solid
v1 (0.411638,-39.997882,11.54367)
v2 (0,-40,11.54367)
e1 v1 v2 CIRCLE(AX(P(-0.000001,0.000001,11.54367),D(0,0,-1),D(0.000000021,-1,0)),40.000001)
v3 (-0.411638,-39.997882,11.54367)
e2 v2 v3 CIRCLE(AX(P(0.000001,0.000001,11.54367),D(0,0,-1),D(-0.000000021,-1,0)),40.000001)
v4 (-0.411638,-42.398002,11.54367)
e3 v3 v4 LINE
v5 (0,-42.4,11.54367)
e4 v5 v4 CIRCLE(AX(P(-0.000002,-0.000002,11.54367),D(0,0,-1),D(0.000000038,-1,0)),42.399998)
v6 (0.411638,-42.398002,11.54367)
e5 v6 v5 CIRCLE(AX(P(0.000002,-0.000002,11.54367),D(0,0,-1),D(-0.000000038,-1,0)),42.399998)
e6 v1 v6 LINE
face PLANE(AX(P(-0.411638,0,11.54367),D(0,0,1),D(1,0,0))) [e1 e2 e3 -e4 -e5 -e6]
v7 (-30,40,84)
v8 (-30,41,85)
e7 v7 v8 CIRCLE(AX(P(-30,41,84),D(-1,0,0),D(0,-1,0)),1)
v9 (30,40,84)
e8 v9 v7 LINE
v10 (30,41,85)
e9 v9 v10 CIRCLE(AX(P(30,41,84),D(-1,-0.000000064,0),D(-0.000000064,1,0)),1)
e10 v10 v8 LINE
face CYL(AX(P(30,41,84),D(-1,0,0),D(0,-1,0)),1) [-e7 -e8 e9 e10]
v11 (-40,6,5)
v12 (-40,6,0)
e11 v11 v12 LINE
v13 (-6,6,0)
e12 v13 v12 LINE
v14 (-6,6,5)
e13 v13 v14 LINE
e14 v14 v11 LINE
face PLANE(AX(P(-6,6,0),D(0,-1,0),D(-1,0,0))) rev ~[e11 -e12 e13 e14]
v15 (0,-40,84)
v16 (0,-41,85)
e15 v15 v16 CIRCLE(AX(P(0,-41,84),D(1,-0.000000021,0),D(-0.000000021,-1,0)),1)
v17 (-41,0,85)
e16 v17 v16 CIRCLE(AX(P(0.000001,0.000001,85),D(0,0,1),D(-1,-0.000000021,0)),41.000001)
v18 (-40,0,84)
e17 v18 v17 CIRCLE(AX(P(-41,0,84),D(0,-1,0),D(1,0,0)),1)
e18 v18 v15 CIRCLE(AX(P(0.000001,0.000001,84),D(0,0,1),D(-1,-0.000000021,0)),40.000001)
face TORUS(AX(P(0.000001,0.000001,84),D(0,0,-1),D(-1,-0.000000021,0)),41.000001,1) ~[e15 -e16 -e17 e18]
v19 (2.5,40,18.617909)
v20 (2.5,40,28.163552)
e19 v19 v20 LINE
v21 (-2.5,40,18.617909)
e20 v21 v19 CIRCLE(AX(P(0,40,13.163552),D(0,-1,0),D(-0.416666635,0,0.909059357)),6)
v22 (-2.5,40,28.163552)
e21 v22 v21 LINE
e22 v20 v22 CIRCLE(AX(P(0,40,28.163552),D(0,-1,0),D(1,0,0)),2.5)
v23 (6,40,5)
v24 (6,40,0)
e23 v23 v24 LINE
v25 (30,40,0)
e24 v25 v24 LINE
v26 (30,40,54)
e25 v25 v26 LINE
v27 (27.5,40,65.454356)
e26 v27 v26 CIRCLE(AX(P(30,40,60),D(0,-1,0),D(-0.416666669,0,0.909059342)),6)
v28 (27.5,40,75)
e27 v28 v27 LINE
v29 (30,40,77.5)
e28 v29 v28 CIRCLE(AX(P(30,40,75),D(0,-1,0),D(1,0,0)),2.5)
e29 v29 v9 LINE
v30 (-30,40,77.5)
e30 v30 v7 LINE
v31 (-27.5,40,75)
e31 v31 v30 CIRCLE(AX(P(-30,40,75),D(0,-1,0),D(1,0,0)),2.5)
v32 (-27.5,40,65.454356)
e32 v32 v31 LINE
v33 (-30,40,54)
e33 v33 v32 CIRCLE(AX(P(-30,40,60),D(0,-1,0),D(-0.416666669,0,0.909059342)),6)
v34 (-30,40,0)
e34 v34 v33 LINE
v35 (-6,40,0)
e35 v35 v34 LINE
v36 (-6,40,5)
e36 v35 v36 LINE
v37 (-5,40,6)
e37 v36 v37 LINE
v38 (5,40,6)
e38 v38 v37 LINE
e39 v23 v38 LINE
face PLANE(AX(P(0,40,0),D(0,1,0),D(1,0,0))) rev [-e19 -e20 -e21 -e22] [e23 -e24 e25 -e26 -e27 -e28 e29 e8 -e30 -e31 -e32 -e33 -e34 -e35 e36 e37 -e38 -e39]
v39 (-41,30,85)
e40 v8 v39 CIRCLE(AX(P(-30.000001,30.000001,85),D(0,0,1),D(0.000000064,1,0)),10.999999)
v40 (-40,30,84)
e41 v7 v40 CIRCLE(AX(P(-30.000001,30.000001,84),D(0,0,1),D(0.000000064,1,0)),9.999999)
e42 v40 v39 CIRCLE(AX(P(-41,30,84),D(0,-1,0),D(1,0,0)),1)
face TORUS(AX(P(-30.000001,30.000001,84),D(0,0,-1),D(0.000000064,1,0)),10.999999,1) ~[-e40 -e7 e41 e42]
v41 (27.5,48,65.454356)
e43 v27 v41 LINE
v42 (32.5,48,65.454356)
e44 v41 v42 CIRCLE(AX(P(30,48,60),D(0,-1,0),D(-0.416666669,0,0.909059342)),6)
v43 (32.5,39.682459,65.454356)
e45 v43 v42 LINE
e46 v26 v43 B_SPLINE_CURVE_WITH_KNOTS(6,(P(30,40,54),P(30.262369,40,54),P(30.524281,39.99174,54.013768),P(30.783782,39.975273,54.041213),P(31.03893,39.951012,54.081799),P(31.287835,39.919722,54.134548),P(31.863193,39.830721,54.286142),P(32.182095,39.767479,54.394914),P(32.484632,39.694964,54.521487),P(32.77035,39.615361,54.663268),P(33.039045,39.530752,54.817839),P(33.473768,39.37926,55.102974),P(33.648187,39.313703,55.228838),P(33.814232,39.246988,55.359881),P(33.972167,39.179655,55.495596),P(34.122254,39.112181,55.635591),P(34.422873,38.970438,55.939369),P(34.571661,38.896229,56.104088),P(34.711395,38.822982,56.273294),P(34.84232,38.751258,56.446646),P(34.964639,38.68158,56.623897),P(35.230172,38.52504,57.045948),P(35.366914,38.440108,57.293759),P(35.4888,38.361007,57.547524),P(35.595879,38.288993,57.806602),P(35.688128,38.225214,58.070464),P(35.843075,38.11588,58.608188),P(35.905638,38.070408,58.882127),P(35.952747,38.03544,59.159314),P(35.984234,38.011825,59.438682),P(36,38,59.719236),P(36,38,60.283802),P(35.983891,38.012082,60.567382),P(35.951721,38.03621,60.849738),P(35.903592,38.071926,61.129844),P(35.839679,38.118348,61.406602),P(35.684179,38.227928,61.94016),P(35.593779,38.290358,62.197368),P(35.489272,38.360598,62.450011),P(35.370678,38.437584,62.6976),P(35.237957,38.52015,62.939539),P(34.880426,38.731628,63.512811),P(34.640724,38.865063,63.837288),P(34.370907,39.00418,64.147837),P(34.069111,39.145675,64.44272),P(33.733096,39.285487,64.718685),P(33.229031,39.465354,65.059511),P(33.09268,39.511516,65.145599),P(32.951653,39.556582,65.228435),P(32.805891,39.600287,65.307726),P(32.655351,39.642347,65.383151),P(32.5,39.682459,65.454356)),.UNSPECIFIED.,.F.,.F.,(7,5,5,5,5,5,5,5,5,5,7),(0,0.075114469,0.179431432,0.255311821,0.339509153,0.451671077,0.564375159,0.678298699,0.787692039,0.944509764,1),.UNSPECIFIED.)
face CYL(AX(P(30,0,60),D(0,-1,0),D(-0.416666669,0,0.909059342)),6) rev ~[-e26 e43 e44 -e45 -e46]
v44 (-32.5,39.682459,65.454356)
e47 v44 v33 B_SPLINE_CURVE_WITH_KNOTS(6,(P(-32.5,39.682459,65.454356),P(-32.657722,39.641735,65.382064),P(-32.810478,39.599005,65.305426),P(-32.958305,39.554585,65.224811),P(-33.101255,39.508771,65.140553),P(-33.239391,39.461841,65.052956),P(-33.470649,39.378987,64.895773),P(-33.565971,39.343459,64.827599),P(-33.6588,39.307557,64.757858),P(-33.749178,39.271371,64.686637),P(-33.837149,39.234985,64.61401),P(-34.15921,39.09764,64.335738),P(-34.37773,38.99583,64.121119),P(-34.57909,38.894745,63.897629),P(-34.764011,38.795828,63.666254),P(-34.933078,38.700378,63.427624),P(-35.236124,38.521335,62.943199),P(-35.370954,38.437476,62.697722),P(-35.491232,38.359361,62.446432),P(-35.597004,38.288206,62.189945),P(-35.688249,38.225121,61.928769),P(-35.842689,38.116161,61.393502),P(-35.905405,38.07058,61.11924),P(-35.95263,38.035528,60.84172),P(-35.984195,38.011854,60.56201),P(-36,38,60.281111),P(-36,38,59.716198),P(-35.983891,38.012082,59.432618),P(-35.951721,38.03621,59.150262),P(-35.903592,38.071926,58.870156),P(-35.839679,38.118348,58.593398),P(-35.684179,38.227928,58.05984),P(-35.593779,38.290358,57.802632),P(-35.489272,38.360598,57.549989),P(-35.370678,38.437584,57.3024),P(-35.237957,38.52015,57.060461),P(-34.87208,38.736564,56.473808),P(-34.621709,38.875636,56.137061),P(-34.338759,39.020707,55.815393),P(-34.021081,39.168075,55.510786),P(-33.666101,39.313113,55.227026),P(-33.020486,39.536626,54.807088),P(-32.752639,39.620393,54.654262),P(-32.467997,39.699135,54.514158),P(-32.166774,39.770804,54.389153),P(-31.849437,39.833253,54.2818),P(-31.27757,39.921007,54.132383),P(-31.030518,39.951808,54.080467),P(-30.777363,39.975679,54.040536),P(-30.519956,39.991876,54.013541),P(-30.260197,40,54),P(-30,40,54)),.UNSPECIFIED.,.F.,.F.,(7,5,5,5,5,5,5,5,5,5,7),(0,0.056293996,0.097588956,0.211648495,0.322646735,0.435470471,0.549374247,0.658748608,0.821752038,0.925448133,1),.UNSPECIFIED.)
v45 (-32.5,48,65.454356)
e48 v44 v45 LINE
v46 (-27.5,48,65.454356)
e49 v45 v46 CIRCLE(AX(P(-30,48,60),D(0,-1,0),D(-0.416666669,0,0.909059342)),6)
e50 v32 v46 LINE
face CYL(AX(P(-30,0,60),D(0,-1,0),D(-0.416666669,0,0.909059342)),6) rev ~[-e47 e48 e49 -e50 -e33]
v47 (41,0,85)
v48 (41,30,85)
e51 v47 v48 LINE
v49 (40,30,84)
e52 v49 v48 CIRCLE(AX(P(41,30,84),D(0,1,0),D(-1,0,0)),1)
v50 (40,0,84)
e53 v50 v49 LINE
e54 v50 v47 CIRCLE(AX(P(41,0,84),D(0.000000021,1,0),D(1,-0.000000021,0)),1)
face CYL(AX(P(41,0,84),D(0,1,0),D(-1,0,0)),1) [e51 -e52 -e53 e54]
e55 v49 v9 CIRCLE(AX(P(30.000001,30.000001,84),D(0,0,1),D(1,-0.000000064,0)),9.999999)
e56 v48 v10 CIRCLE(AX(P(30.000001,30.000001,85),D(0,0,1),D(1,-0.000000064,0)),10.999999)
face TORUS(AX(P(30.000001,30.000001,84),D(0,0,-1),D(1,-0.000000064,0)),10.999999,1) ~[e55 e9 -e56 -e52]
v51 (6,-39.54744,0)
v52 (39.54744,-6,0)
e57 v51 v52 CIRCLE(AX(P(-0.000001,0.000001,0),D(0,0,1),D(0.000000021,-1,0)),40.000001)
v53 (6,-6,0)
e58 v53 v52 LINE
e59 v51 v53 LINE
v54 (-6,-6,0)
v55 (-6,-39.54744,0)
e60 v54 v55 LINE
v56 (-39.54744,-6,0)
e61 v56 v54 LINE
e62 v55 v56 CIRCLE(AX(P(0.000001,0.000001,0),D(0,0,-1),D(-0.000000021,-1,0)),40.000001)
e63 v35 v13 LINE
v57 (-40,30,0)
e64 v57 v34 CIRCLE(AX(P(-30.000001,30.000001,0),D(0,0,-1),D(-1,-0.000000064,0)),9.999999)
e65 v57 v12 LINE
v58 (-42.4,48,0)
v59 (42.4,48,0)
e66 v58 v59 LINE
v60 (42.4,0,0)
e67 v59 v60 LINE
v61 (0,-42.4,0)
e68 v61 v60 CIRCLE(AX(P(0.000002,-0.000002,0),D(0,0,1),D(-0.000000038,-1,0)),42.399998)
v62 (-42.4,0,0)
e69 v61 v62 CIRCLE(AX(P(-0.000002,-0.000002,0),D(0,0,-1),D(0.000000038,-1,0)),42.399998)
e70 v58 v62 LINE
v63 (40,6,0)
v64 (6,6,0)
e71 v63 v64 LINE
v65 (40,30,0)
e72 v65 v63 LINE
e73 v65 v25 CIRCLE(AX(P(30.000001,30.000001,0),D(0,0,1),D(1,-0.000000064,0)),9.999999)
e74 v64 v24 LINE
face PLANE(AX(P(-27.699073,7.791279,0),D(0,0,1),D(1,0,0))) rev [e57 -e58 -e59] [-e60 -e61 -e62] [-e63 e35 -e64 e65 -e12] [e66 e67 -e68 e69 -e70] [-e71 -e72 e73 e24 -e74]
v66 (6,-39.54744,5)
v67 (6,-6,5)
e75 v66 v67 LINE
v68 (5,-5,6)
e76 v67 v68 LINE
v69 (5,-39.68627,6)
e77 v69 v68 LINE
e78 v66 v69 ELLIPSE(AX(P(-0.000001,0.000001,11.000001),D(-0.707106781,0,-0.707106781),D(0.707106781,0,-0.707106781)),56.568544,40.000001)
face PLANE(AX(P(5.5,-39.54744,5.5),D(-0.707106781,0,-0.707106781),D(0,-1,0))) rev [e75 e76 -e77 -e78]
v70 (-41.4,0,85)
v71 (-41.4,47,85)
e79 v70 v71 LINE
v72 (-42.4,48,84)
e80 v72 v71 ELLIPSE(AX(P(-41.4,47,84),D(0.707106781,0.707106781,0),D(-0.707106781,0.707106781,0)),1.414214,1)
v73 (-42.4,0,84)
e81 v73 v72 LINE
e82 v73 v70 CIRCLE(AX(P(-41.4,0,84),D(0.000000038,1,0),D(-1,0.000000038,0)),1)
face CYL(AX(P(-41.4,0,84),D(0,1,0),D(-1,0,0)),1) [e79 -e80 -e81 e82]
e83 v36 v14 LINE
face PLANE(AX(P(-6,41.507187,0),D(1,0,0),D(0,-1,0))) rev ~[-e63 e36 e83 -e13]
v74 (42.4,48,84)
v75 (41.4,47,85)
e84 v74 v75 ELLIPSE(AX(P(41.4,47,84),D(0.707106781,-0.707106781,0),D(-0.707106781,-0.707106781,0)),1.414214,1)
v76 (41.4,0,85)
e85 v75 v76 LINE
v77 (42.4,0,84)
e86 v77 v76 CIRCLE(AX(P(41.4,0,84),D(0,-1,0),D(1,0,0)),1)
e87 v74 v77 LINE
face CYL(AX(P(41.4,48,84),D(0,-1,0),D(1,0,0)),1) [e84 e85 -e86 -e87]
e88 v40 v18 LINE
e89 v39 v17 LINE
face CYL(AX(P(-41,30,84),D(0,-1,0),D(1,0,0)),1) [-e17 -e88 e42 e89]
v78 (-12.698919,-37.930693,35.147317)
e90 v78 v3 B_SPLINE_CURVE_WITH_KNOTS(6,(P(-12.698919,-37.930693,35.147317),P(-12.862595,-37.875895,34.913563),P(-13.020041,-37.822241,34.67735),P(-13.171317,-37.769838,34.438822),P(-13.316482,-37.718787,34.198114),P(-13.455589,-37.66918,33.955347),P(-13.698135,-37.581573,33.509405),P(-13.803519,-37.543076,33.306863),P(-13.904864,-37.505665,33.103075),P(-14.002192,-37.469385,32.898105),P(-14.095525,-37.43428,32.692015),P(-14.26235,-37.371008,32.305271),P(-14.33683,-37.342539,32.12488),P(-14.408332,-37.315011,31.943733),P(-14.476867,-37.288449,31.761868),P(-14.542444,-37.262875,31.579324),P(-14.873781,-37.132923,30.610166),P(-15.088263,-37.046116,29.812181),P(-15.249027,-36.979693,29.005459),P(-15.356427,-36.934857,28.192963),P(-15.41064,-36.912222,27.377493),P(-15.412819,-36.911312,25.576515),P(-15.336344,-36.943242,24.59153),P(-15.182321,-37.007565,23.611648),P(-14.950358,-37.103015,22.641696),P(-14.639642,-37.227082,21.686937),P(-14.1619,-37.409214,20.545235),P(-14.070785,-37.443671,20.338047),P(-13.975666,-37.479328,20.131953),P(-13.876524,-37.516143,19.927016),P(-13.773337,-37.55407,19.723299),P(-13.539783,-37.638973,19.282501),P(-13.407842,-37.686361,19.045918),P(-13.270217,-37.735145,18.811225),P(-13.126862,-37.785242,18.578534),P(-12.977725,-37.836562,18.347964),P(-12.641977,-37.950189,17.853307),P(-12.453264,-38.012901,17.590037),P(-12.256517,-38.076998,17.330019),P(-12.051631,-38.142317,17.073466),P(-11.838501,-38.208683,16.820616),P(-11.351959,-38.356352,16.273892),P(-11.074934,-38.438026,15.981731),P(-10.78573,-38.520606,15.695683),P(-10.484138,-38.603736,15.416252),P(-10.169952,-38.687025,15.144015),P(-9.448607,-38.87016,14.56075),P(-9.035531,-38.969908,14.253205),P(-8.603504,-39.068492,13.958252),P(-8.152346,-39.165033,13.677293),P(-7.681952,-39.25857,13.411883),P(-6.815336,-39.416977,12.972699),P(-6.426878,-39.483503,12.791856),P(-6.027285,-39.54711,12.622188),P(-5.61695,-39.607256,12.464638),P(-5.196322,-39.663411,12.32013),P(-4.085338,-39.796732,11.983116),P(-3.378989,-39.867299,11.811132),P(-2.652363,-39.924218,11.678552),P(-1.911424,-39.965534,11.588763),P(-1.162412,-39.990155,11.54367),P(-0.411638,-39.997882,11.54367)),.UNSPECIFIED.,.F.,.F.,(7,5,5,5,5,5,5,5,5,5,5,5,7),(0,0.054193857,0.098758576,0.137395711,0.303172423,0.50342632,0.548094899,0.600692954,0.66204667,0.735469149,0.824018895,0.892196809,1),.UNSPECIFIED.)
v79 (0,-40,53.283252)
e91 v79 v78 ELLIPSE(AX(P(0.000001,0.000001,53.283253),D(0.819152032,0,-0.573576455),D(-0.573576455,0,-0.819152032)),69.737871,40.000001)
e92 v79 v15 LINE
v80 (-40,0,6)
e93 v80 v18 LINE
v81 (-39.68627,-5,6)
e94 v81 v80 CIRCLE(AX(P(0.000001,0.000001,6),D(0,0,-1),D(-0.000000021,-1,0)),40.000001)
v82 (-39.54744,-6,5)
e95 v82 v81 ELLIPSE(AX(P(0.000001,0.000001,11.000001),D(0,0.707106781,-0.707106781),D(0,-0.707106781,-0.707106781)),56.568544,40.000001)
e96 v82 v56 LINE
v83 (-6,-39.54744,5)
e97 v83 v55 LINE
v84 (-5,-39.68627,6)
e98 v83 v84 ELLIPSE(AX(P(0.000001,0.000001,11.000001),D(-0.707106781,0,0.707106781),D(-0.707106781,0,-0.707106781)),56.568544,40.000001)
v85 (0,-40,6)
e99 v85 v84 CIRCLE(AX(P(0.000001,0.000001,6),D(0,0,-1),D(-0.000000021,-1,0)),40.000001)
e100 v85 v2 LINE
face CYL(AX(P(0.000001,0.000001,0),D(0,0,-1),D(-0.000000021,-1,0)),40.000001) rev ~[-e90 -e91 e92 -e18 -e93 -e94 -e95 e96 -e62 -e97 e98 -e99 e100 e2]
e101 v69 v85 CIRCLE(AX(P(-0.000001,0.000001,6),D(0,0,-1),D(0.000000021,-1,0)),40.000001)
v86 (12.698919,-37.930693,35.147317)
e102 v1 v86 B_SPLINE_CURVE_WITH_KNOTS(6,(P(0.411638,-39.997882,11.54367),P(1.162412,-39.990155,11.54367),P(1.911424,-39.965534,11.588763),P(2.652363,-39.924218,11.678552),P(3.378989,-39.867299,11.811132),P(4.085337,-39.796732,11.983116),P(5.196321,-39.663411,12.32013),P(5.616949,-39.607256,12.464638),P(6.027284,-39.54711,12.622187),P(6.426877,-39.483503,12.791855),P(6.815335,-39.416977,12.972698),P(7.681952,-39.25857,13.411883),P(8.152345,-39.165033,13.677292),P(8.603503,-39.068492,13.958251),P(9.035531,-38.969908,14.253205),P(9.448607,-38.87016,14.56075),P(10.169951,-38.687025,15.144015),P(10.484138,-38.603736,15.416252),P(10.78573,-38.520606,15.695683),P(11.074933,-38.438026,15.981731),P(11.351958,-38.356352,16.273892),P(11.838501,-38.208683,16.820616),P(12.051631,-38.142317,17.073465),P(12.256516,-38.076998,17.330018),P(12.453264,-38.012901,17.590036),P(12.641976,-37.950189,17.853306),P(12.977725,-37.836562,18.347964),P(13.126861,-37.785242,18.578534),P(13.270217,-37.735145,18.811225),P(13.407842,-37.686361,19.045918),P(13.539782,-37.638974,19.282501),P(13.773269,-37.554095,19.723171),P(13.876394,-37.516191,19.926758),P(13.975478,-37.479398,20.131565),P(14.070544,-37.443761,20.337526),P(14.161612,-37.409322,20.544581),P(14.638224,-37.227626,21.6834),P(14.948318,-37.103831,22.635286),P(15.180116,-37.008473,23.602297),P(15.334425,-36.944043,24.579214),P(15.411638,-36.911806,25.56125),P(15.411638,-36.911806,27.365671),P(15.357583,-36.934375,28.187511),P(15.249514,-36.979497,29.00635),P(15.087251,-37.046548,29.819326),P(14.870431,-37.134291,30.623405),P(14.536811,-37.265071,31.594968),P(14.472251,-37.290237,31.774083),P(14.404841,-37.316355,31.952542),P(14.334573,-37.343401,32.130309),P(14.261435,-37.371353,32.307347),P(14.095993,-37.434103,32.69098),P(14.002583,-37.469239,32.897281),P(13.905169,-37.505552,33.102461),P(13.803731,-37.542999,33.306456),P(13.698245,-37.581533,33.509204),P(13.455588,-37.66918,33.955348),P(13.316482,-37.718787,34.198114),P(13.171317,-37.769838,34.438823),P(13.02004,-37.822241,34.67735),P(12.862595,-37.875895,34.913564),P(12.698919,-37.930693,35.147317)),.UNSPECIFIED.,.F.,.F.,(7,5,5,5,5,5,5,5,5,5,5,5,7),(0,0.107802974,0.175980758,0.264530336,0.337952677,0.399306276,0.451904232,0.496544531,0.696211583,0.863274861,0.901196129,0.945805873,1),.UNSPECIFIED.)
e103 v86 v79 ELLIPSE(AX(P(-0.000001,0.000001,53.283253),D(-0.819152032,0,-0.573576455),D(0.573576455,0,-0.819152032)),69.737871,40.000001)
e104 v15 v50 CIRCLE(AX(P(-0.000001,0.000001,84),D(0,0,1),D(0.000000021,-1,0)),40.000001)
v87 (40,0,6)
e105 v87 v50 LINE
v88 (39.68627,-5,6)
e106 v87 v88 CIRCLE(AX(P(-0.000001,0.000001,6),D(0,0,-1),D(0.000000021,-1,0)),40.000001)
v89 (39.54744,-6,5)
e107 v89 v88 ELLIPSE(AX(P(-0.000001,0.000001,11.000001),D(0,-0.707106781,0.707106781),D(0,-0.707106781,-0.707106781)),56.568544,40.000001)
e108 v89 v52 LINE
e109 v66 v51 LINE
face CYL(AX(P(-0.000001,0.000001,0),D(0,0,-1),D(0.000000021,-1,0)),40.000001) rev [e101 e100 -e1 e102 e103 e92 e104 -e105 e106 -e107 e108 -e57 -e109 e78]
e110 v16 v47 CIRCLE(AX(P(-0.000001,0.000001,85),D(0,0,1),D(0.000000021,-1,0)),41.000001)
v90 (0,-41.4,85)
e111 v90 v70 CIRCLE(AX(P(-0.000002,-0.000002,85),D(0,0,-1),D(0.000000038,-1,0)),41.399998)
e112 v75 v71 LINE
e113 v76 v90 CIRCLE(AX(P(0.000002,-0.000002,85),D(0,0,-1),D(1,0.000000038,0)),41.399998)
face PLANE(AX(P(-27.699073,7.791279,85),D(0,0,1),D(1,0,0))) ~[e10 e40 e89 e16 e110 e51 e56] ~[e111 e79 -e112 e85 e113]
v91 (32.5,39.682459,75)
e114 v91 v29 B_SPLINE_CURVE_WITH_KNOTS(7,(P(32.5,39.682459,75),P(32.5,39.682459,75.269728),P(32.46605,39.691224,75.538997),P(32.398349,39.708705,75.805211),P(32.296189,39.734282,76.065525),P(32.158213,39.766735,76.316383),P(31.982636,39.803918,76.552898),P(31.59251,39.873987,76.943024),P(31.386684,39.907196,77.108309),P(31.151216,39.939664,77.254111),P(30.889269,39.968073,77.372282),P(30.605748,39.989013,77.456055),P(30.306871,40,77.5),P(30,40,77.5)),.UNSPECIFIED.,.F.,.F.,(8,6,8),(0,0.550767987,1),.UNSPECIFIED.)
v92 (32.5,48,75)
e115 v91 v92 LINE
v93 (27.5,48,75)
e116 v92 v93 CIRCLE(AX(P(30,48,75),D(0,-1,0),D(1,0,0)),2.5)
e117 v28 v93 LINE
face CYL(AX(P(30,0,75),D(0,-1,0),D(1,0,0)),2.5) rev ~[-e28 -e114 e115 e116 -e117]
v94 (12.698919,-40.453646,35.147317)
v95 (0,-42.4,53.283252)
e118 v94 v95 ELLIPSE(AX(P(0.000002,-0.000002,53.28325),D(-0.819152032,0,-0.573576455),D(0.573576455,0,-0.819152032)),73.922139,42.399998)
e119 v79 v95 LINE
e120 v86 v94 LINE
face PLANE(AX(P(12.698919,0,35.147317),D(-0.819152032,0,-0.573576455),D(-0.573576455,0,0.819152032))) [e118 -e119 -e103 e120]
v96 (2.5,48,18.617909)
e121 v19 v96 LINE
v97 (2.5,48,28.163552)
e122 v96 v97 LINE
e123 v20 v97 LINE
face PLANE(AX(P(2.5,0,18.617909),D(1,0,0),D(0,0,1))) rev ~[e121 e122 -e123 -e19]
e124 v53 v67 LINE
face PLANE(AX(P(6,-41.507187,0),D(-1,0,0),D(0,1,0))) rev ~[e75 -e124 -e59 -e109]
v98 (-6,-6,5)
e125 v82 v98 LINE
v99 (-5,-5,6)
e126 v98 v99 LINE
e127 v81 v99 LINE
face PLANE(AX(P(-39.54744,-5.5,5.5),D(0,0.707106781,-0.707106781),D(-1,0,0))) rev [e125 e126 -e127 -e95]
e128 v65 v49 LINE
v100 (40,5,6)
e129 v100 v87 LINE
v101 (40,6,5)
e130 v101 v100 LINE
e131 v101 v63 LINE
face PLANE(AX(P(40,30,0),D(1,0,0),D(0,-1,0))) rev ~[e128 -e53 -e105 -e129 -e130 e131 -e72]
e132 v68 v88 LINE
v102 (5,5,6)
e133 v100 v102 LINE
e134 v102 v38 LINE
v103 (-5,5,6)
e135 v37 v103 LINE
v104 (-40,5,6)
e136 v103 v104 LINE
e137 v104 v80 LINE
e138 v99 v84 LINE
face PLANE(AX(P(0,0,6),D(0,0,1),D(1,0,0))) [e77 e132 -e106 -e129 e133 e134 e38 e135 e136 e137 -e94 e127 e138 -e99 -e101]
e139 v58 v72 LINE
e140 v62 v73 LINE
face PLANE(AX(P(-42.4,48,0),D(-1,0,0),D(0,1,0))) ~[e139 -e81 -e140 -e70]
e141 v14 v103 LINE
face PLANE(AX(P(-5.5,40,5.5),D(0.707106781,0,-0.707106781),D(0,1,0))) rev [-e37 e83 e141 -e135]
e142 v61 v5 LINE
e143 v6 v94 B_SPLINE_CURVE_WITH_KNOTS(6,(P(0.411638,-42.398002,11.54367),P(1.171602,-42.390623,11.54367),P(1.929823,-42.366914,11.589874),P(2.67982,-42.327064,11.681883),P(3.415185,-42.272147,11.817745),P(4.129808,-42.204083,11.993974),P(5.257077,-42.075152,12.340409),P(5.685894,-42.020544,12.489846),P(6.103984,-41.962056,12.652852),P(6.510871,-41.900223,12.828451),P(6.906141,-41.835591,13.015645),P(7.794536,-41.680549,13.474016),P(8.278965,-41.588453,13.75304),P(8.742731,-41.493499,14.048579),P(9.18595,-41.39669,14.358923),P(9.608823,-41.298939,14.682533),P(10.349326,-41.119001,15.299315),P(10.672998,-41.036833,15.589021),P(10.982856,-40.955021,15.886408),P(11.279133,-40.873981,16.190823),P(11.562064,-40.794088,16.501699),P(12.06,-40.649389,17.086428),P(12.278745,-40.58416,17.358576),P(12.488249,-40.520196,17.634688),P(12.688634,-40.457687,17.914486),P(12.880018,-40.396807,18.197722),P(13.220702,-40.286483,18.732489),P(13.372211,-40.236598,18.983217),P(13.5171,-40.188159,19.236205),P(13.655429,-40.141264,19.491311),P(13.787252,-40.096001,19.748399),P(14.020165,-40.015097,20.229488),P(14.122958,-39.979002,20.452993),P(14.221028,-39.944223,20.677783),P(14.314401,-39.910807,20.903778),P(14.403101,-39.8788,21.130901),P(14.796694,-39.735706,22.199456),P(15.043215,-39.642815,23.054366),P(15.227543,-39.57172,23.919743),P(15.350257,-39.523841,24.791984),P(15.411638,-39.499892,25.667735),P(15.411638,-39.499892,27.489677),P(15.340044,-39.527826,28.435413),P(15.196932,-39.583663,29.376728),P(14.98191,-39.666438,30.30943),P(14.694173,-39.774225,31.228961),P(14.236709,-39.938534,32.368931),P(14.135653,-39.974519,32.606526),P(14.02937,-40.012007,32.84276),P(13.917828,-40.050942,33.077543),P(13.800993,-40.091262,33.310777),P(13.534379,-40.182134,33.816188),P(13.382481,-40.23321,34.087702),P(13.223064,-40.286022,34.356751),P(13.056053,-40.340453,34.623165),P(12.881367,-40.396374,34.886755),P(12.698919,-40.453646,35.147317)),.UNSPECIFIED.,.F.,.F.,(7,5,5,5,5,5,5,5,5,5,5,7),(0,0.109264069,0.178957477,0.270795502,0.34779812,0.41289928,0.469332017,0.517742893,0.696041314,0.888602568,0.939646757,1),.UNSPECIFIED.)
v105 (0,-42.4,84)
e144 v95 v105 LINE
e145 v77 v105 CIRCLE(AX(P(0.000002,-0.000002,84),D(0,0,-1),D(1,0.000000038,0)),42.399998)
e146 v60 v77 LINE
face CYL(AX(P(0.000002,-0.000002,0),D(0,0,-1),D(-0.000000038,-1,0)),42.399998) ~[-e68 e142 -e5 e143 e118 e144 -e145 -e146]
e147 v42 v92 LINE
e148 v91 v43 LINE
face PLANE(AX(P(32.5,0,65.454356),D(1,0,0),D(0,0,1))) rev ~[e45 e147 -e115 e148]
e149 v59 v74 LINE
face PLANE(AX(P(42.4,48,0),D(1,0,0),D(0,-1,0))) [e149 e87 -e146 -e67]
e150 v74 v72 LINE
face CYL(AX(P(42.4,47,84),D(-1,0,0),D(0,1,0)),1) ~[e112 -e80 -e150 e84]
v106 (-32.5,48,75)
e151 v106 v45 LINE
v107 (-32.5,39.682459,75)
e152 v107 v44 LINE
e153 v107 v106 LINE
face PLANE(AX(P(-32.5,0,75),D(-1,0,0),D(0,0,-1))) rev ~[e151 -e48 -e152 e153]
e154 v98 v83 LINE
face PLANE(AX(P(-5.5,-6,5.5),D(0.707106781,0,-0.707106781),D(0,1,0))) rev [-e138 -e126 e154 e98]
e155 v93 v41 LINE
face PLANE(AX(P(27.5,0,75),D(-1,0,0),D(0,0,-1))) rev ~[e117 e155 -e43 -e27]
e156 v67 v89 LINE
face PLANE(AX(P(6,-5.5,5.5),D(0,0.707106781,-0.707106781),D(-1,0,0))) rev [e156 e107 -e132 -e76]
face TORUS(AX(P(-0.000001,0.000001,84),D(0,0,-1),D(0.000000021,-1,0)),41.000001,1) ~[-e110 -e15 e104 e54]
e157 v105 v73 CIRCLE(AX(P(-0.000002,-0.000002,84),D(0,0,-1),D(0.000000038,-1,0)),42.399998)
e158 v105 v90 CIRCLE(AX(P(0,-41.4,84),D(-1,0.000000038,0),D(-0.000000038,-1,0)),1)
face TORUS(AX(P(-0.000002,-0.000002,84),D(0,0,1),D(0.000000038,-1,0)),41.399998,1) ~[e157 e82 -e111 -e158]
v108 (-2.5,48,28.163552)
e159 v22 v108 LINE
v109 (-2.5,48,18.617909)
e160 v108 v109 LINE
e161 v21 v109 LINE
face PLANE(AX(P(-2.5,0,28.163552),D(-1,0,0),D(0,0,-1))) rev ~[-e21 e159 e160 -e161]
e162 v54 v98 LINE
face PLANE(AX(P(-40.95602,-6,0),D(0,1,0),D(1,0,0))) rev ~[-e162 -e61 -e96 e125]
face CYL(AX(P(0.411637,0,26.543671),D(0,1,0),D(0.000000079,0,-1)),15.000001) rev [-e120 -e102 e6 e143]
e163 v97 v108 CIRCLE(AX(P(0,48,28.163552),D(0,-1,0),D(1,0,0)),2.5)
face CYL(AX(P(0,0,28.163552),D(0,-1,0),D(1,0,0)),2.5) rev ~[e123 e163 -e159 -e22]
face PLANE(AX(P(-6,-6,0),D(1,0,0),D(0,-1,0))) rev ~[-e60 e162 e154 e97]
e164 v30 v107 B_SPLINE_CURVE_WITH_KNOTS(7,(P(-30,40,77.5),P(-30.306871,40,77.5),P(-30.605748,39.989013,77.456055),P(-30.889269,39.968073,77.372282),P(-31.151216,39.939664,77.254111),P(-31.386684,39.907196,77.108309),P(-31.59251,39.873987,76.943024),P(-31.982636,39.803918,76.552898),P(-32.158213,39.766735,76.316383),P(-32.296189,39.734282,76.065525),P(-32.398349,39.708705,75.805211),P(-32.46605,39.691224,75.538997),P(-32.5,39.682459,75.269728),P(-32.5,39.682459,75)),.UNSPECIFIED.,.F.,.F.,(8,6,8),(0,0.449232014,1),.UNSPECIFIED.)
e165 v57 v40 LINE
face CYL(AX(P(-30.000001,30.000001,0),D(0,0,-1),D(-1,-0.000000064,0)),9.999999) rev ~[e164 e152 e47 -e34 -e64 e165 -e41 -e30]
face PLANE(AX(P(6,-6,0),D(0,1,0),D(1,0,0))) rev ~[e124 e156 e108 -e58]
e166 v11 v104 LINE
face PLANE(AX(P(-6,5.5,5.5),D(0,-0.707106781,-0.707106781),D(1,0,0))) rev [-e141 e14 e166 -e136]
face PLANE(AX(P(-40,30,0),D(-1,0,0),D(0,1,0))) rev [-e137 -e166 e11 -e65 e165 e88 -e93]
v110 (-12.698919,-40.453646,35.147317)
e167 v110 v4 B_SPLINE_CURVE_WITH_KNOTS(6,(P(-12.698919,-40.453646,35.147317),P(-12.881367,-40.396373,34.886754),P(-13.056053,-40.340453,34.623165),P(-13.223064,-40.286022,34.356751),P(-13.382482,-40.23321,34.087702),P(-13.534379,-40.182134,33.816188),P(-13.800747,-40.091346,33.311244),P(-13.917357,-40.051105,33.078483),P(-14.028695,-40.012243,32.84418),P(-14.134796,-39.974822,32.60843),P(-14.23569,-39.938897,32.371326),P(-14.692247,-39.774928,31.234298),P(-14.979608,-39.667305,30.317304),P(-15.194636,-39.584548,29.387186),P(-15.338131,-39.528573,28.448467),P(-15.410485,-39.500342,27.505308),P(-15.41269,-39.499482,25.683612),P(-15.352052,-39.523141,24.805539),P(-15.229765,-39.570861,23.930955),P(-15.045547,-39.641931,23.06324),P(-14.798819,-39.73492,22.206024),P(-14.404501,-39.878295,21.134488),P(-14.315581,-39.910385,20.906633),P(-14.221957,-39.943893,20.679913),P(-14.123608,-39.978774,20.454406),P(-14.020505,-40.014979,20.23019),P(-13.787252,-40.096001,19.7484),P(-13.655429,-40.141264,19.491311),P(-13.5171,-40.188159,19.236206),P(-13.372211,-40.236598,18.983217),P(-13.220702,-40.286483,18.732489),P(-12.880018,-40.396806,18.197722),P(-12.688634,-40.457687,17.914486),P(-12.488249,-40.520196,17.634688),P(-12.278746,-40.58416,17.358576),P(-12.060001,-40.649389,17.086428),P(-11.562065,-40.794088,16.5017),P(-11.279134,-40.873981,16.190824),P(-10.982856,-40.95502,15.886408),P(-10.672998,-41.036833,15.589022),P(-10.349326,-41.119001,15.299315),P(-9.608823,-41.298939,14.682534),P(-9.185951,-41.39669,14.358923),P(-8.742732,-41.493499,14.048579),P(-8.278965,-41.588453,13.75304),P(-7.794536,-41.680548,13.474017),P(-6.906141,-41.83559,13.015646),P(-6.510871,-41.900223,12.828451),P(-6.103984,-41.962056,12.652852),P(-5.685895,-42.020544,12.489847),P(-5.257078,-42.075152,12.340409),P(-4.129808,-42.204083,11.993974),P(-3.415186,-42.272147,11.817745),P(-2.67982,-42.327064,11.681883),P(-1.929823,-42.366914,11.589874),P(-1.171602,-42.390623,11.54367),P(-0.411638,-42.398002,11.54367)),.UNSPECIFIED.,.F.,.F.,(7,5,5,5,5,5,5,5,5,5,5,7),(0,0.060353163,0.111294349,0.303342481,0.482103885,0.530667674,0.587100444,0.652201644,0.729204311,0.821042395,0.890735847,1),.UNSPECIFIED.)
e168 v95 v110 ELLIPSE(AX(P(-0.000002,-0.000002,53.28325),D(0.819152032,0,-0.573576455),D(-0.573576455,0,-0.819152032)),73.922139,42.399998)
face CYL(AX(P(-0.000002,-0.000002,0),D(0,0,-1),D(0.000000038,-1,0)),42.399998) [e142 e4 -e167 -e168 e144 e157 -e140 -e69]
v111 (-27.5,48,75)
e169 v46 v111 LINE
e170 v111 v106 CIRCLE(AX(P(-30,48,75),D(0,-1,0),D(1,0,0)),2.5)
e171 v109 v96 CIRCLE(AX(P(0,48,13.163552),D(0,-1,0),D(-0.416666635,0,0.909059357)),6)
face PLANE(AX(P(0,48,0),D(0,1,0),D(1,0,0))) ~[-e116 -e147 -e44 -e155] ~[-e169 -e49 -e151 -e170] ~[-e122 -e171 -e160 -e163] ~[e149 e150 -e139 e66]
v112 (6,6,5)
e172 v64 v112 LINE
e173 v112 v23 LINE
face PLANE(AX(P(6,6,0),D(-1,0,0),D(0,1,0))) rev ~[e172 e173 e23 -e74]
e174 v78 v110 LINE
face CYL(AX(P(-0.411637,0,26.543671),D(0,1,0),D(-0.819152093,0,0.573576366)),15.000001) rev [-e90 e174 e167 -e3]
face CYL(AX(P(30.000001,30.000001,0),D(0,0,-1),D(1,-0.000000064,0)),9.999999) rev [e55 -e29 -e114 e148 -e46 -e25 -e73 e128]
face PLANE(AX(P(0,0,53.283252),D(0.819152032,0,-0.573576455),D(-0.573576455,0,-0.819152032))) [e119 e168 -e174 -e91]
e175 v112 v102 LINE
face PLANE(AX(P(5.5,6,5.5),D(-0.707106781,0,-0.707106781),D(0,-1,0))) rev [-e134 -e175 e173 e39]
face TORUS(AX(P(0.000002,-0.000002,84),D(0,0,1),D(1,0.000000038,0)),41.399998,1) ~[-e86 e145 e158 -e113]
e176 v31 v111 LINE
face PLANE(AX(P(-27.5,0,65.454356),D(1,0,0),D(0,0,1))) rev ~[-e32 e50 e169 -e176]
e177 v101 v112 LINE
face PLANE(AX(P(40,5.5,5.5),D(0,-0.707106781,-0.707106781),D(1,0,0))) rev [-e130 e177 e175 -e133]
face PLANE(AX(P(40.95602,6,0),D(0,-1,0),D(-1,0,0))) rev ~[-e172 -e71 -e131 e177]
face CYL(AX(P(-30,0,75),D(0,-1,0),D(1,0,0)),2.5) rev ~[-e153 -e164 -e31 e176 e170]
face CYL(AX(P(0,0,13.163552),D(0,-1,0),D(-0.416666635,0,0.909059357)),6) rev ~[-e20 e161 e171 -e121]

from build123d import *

# Parameters (mm, degrees)
PAD_DEPTH       = 85
PAD001_DEPTH    = 6
POCKET_DEPTH    = 42.401
POCKET001_DEPTH = 48.001
FILLET_R        = 1
CHAMFER_SIZE    = 1


with BuildPart() as part:
    # Sketch → Pad (new body)
    with BuildSketch(Plane.XY):
        with BuildLine():
            Line((40, 30), (40, 0))
            ThreePointArc((0, -40), (28.284271, -28.284271), (40, 0))
            Line((0, -40), (0, -42.4))
            ThreePointArc((0, -42.4), (29.981328, -29.981328), (42.4, 0))
            Line((42.4, 48), (42.4, 0))
            Line((0, 48), (42.4, 48))
            Line((0, 48), (0, 40))
            Line((0, 40), (30, 40))
            ThreePointArc((40, 30), (37.071068, 37.071068), (30, 40))
        make_face()
    pad = extrude(amount=PAD_DEPTH)

    # Mirrored: Pad across Sketch V_Axis
    add(pad.mirror(Plane(origin=(0, 0, 0), x_dir=(0, 0, 1), z_dir=(1, 0, 0))))

    # Sketch001 → Pad001 (join)
    with BuildSketch(Plane.XY):
        Polygon((6, -41.507187), (6, -6), (40.95602, -6), (40.95602, 6), (6, 6), (6, 41.507187), (-6, 41.507187), (-6, 6), (-40.95602, 6), (-40.95602, -6), (-6, -6), (-6, -41.507187), align=None)
    extrude(amount=PAD001_DEPTH)

    # Sketch002 → Pocket (cut, through all)
    with BuildSketch(Plane.XZ):
        with BuildLine():
            Line((0, 53.283252), (-12.698919, 35.147317))
            ThreePointArc((-12.698919, 35.147317), (-13.7168, 19.617441), (-0.411638, 11.54367))
            Line((-0.411638, 11.54367), (0.411638, 11.54367))
            ThreePointArc((0.411638, 11.54367), (13.7168, 19.617441), (12.698919, 35.147317))
            Line((12.698919, 35.147317), (0, 53.283252))
        make_face()
    extrude(amount=POCKET_DEPTH, mode=Mode.SUBTRACT)

    # Sketch003 → Pocket001 (cut, through all)
    with BuildSketch(Plane.XZ):
        with BuildLine():
            ThreePointArc((27.5, 65.454356), (30, 54), (32.5, 65.454356))
            Line((32.5, 65.454356), (32.5, 75))
            ThreePointArc((32.5, 75), (30, 77.5), (27.5, 75))
            Line((27.5, 75), (27.5, 65.454356))
        make_face()
        with BuildLine():
            ThreePointArc((-32.5, 65.454356), (-30, 54), (-27.5, 65.454356))
            Line((-27.5, 65.454356), (-27.5, 75))
            ThreePointArc((-27.5, 75), (-30, 77.5), (-32.5, 75))
            Line((-32.5, 75), (-32.5, 65.454356))
        make_face()
        with BuildLine():
            ThreePointArc((-2.5, 18.617909), (0, 7.163552), (2.5, 18.617909))
            Line((2.5, 18.617909), (2.5, 28.163552))
            ThreePointArc((2.5, 28.163552), (0, 30.663552), (-2.5, 28.163552))
            Line((-2.5, 28.163552), (-2.5, 18.617909))
        make_face()
    extrude(amount=-POCKET001_DEPTH, mode=Mode.SUBTRACT)

    # Fillet
    fillet_edges = [part.edges().sort_by_distance(p)[0] for p in [
        (-40, 15, 85),
        (-28.284271, -28.284271, 85),
        (0, -41.2, 85),
        (-29.981328, -29.981328, 85),
        (-42.4, 24, 85),
        (-21.2, 48, 85),
        (0, 44, 85),
        (-15, 40, 85),
        (-37.071068, 37.071068, 85),
    ]]
    fillet(fillet_edges, radius=FILLET_R)

    # Chamfer
    chamfer_edges = [part.edges().sort_by_distance(p)[0] for p in [
        (-6, 23, 6),
        (-23, 6, 6),
        (-22.77372, -6, 6),
        (-6, -22.77372, 6),
        (6, -22.77372, 6),
        (22.77372, -6, 6),
        (23, 6, 6),
        (6, 23, 6),
    ]]
    chamfer(chamfer_edges, length=CHAMFER_SIZE)


solid = part.part
